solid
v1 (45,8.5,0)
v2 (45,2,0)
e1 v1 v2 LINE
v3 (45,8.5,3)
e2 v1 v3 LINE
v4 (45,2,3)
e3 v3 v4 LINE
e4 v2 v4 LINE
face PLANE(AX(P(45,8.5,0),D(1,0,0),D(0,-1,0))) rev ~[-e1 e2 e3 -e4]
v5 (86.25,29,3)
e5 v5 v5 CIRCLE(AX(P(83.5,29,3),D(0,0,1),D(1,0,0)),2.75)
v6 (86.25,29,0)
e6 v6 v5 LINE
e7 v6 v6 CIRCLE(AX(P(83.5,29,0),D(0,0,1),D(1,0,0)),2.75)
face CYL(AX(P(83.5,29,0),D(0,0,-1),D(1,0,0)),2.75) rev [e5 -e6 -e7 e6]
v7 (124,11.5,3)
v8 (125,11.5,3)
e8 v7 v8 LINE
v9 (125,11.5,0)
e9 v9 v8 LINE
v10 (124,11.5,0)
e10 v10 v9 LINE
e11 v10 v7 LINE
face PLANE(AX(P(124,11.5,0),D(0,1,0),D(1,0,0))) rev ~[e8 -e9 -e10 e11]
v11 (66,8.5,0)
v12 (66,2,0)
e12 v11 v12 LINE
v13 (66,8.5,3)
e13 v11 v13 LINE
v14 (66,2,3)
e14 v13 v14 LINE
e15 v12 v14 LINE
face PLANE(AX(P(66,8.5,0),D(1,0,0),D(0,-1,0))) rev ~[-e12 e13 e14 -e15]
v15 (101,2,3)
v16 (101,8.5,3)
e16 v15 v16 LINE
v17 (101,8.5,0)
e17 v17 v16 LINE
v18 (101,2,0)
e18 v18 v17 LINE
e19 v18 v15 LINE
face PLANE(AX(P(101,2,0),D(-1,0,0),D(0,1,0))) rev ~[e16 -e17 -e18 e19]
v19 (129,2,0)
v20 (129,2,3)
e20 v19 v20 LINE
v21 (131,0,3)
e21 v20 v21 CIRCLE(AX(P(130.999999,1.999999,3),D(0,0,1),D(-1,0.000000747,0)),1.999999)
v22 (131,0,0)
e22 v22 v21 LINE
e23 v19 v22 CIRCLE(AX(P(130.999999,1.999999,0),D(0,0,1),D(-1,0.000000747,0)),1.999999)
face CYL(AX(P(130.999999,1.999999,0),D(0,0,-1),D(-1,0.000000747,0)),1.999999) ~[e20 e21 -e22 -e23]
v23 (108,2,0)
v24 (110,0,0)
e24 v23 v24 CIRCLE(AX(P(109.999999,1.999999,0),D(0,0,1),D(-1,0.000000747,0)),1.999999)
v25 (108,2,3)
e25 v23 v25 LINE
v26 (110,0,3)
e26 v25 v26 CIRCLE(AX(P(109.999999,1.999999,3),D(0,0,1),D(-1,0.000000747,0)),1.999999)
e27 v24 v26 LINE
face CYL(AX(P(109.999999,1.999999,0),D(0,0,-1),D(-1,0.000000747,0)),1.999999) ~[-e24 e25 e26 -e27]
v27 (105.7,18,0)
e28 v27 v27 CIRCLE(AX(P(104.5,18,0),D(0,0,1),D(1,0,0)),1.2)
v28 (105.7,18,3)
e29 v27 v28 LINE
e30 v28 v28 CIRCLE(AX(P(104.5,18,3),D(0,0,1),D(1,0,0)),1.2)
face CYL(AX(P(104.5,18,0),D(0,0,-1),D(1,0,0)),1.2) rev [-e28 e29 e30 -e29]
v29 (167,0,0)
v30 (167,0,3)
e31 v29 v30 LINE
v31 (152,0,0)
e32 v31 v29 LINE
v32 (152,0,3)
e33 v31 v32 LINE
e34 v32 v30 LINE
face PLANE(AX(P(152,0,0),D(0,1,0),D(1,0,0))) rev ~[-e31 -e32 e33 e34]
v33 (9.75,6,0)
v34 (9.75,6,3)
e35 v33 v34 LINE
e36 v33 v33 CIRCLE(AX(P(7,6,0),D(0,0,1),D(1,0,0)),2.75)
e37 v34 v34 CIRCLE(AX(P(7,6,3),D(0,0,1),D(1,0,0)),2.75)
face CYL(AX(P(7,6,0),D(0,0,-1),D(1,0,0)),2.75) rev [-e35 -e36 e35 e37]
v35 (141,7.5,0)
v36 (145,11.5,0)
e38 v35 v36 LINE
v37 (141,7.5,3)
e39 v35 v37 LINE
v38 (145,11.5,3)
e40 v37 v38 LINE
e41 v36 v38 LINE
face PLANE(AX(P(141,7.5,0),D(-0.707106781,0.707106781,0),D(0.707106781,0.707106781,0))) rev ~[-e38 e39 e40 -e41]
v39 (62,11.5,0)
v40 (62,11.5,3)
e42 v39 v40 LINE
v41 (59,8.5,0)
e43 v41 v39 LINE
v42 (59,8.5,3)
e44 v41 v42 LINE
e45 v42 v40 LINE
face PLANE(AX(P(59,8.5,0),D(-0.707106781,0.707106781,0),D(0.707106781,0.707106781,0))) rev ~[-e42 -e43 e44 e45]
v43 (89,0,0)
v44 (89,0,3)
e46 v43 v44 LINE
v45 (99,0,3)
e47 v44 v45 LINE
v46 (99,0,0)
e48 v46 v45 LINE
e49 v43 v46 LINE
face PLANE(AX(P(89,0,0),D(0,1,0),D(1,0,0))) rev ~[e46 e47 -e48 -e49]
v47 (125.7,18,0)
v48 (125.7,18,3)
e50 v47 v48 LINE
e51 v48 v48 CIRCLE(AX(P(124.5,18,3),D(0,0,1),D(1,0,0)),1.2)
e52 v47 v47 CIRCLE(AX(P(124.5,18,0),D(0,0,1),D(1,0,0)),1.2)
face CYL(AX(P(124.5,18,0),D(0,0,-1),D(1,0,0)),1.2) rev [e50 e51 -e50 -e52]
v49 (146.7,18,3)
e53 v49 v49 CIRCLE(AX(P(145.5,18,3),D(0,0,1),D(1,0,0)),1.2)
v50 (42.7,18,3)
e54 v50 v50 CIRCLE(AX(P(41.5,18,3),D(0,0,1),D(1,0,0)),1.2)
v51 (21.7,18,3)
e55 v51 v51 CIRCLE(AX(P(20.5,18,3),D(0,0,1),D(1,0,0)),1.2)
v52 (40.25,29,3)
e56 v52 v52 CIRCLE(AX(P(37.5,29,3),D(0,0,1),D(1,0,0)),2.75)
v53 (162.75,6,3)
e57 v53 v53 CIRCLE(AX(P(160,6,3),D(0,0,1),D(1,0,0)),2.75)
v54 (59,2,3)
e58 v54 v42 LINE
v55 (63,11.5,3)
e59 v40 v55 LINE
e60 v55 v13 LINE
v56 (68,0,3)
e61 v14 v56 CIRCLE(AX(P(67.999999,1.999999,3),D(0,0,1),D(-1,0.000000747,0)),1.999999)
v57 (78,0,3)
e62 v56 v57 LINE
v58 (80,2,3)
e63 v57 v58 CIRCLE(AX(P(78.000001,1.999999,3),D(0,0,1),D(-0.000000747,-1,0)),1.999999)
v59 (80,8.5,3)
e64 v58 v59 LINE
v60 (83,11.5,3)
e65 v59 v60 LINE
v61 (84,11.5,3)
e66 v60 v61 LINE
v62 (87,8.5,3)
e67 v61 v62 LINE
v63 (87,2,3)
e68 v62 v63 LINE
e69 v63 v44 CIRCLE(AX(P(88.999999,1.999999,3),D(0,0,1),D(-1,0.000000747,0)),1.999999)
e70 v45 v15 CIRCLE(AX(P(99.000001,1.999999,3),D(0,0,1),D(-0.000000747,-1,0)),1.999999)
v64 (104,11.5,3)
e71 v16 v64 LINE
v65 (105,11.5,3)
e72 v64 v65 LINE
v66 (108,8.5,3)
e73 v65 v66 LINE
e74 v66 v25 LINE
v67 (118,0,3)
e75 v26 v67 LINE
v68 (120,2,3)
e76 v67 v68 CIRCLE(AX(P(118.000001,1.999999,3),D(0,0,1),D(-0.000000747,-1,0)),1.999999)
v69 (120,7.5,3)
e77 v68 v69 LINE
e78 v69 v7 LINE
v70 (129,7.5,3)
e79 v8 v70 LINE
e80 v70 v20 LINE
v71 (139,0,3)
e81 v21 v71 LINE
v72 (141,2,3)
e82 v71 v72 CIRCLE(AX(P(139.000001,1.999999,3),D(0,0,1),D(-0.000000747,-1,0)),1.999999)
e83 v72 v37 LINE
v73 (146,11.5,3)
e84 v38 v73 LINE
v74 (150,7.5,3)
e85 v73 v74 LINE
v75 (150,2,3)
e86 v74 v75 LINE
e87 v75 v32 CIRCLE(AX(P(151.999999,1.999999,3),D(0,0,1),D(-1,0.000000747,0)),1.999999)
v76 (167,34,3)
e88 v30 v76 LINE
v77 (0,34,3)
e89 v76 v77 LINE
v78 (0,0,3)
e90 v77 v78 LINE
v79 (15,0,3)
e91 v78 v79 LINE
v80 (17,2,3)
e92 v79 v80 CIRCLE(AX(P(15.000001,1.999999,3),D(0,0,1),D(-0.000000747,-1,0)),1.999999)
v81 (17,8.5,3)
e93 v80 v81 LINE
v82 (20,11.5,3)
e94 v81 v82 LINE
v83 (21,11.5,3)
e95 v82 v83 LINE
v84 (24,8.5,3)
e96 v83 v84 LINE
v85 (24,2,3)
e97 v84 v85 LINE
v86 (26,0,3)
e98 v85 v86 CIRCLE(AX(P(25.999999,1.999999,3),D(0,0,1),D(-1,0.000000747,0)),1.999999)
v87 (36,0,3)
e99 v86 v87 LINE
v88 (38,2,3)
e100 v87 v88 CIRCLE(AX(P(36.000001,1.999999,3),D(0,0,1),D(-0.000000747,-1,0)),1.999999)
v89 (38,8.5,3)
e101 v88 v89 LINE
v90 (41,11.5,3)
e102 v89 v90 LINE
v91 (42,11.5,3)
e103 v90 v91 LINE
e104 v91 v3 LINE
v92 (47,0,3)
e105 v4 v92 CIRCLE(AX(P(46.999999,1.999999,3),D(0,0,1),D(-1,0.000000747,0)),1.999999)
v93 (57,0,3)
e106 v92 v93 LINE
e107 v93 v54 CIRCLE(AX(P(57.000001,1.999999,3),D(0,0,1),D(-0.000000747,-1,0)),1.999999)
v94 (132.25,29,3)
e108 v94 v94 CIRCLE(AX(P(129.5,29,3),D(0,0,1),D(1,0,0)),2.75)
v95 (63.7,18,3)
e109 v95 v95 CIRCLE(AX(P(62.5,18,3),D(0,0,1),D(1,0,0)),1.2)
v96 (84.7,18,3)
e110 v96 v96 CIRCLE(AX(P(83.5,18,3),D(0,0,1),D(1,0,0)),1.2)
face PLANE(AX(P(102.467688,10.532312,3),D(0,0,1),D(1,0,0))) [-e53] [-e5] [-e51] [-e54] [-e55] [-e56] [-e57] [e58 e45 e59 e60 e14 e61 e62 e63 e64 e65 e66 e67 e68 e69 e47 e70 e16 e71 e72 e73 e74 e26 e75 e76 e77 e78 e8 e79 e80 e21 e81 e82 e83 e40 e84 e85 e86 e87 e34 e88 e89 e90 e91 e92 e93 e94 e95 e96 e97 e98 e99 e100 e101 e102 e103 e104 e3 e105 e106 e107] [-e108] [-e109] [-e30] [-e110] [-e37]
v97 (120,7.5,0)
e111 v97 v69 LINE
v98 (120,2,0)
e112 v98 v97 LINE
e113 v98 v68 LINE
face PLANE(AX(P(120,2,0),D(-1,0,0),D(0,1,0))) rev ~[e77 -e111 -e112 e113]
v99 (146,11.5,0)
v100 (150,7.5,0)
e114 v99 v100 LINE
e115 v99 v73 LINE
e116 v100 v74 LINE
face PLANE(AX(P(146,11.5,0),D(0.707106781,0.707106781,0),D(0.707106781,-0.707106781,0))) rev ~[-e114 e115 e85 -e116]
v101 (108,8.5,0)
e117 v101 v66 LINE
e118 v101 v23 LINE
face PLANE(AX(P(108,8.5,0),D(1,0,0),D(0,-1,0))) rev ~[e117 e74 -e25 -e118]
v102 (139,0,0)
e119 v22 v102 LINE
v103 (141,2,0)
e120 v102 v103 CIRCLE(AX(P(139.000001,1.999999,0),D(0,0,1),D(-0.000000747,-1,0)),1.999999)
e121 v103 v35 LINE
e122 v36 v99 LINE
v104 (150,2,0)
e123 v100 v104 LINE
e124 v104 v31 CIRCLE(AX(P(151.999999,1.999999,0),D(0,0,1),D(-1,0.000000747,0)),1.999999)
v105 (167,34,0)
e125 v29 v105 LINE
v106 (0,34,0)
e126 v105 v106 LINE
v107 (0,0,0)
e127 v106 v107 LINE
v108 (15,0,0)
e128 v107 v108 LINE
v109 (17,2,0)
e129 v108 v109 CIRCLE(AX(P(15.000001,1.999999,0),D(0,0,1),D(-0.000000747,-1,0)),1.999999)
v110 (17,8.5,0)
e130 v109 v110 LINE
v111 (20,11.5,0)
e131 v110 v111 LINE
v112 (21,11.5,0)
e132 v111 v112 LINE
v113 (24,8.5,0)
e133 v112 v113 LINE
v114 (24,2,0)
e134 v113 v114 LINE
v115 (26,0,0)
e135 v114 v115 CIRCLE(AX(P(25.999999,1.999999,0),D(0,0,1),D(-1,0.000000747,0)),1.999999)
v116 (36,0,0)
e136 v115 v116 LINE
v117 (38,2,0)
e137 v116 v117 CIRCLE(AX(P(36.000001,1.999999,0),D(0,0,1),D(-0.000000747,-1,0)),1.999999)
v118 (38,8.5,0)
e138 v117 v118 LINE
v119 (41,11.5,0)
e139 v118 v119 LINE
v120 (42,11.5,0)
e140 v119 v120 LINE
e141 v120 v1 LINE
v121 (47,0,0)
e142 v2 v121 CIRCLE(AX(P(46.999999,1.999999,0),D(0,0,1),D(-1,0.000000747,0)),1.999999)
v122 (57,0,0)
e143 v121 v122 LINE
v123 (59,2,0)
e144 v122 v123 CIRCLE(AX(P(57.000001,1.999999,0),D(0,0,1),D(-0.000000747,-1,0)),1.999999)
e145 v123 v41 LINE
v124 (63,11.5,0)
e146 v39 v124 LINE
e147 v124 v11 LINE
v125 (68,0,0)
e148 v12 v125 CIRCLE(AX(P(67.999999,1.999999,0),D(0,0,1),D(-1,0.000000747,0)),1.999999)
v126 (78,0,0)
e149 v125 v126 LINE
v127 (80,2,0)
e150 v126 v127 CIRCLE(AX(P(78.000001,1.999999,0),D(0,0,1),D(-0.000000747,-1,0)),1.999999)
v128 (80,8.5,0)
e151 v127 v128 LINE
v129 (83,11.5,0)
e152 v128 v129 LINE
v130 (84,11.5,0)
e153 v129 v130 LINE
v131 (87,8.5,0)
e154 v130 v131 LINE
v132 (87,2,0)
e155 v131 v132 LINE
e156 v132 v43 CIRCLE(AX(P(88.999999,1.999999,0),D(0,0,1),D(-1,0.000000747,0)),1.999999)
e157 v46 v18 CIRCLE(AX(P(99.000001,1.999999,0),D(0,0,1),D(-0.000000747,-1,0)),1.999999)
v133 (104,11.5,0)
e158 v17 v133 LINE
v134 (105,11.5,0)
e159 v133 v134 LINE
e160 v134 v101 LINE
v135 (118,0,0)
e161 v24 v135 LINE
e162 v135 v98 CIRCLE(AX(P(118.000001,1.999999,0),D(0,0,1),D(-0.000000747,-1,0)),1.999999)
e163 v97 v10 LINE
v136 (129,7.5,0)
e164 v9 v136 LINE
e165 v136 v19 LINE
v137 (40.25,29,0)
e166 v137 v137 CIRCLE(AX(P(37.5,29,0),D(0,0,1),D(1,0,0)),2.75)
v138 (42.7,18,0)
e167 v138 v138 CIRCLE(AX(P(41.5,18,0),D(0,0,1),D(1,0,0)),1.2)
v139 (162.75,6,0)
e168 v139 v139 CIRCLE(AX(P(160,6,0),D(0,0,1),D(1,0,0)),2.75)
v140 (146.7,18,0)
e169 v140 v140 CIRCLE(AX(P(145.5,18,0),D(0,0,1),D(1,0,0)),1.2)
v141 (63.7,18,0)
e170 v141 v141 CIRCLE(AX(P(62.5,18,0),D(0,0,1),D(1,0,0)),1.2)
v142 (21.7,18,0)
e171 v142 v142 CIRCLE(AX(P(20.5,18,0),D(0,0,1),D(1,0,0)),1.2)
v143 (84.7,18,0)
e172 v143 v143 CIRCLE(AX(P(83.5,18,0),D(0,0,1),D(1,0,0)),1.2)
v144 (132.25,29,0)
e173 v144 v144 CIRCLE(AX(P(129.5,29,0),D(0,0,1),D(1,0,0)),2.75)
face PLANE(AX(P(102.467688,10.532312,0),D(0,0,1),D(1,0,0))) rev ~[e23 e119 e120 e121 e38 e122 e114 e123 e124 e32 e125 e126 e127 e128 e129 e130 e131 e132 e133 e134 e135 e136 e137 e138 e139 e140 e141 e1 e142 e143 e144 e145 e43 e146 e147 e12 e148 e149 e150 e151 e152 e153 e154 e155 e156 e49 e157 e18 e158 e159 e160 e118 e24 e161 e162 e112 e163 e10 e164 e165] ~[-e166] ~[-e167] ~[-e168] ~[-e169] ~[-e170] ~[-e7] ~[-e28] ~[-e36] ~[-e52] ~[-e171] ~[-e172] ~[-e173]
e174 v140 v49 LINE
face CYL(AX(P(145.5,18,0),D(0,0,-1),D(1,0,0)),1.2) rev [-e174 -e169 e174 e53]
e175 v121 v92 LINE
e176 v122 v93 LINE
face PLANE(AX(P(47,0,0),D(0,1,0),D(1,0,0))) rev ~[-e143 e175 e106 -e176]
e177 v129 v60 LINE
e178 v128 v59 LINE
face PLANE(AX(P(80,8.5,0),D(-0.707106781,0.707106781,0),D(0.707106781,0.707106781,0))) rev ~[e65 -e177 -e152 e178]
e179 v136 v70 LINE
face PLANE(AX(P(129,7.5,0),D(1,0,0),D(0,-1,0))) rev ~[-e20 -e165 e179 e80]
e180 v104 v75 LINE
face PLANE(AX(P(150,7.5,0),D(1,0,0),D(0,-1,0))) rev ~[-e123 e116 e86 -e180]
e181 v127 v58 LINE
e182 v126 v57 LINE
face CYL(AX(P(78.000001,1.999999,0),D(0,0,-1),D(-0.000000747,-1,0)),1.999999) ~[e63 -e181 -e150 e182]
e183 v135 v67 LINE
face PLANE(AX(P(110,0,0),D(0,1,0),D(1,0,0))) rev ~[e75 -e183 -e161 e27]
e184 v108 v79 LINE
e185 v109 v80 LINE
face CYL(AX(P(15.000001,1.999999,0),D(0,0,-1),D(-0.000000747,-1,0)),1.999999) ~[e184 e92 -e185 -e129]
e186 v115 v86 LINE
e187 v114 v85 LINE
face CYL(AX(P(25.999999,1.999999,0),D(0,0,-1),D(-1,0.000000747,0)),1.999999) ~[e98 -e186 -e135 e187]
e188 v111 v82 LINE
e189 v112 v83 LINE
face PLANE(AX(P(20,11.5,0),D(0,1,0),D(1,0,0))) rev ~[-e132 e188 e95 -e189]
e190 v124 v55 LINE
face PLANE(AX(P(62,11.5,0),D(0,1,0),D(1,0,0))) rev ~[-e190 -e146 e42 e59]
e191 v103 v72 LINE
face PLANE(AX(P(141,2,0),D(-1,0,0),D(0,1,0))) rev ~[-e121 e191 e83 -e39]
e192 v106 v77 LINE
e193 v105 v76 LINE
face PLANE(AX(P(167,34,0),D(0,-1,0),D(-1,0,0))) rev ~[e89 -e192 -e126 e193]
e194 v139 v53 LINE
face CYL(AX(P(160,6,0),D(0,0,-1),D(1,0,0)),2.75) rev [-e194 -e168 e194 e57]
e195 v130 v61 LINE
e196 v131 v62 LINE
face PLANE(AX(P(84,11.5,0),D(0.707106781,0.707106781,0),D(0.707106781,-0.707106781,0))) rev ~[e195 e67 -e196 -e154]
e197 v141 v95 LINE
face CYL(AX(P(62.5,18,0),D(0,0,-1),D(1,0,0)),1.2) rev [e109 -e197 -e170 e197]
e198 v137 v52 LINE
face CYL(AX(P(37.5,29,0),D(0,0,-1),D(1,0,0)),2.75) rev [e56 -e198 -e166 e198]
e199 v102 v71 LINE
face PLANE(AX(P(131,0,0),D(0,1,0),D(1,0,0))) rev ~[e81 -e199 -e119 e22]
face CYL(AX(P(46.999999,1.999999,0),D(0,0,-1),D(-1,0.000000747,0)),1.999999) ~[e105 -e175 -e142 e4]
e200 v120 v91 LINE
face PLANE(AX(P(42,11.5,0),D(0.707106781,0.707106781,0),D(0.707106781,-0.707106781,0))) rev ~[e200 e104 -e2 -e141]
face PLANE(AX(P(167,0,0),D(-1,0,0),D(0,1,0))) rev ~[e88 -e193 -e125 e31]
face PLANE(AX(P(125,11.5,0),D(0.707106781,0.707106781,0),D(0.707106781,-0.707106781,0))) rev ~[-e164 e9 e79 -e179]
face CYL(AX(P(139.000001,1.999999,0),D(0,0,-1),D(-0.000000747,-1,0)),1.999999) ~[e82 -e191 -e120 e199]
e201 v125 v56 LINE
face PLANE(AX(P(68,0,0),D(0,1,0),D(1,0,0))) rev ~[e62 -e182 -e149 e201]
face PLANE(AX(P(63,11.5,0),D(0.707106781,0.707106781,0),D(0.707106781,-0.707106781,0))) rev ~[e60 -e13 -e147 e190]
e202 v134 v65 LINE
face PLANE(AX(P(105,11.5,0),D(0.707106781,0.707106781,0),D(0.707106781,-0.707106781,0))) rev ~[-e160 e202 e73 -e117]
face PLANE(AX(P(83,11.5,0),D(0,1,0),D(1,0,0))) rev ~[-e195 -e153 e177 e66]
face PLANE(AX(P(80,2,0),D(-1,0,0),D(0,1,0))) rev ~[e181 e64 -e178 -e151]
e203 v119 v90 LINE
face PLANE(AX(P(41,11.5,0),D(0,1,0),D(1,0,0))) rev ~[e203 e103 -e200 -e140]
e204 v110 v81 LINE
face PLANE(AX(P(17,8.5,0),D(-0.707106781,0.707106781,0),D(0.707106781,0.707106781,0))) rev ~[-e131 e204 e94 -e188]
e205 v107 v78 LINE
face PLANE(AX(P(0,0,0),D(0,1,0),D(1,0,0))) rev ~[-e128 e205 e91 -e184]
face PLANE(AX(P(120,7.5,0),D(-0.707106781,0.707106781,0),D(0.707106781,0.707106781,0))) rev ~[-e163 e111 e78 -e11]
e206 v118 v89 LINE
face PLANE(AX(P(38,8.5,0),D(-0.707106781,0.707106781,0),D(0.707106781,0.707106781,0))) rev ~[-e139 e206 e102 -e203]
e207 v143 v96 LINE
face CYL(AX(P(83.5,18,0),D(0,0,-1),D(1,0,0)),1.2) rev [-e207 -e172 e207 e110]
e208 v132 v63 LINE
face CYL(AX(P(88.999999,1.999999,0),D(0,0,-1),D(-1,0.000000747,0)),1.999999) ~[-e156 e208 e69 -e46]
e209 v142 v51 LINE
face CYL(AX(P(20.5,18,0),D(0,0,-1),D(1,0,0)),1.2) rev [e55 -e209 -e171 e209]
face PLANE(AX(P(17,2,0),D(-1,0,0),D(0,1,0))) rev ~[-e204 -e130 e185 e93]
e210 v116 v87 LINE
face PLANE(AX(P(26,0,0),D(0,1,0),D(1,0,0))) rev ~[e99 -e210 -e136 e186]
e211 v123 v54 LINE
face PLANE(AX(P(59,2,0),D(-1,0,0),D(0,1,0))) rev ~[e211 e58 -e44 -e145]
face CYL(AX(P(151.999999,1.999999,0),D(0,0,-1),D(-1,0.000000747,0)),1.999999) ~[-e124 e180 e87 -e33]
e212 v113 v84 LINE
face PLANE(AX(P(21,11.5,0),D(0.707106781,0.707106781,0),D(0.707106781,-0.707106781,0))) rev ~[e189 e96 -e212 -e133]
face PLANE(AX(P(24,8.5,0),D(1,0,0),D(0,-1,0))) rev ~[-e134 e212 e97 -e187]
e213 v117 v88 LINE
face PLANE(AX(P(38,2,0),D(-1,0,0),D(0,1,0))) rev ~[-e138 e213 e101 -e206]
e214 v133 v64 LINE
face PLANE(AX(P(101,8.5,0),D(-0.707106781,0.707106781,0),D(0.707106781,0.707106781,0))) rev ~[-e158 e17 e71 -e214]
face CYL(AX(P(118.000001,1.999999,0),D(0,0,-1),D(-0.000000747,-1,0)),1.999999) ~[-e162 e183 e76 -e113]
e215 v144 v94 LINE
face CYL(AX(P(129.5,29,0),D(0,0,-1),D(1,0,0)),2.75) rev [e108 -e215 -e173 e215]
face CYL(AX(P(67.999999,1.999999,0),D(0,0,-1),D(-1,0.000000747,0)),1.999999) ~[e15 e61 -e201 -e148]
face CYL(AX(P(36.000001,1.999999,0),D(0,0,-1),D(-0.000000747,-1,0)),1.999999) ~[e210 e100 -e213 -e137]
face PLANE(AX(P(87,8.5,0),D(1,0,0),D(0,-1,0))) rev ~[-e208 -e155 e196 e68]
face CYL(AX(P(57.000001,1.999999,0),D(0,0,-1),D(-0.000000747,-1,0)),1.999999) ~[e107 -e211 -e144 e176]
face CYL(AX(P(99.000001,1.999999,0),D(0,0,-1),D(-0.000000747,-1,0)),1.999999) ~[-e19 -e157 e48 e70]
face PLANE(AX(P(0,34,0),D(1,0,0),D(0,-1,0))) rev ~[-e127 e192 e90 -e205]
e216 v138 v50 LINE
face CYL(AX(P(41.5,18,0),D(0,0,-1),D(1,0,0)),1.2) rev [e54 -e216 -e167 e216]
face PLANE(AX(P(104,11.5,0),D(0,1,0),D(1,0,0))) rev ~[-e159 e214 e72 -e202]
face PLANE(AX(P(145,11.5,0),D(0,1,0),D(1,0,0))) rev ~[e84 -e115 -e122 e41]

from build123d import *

# Parameters (mm, degrees)
F0_R     = 2.75
F0_R_2   = 1.2
F1_DEPTH = 3


with BuildPart() as f1:
    # F0 (on Top) → F1 (new body)
    with BuildSketch(Plane.XY):
        with BuildLine():
            Line((101, 8.5), (104, 11.5))
            Line((104, 11.5), (104.5, 12))
            Line((104.5, 12), (104, 12))
            ThreePointArc((104, 12), (101.87868, 11.12132), (101, 9))
            Line((101, 9), (101, 8.5))
        make_face()
        with BuildLine():
            Line((105, 11.5), (108, 8.5))
            Line((108, 8.5), (108, 9))
            ThreePointArc((108, 9), (107.12132, 11.12132), (105, 12))
            Line((105, 12), (104.5, 12))
            Line((104.5, 12), (105, 11.5))
        make_face()
        Polygon((104, 11.5), (105, 11.5), (104.5, 12), align=None)
        with BuildLine():
            Line((0, 34), (0, 0))
            Line((0, 0), (15, 0))
            ThreePointArc((15, 0), (16.414214, 0.585786), (17, 2))
            Line((17, 2), (17, 8.5))
            Line((17, 8.5), (17, 9))
            ThreePointArc((17, 9), (17.87868, 11.12132), (20, 12))
            Line((20, 12), (20.5, 12))
            Line((20.5, 12), (21, 12))
            ThreePointArc((21, 12), (23.12132, 11.12132), (24, 9))
            Line((24, 9), (24, 8.5))
            Line((24, 8.5), (24, 2))
            ThreePointArc((24, 2), (24.585786, 0.585786), (26, 0))
            Line((26, 0), (36, 0))
            ThreePointArc((36, 0), (37.414214, 0.585786), (38, 2))
            Line((38, 2), (38, 8.5))
            Line((38, 8.5), (38, 9))
            ThreePointArc((38, 9), (38.87868, 11.12132), (41, 12))
            Line((41, 12), (41.5, 12))
            Line((41.5, 12), (42, 12))
            ThreePointArc((42, 12), (44.12132, 11.12132), (45, 9))
            Line((45, 9), (45, 8.5))
            Line((45, 8.5), (45, 2))
            ThreePointArc((45, 2), (45.585786, 0.585786), (47, 0))
            Line((47, 0), (57, 0))
            ThreePointArc((57, 0), (58.414214, 0.585786), (59, 2))
            Line((59, 2), (59, 8.5))
            Line((59, 8.5), (59, 9))
            ThreePointArc((59, 9), (59.87868, 11.12132), (62, 12))
            Line((62, 12), (62.5, 12))
            Line((62.5, 12), (63, 12))
            ThreePointArc((63, 12), (65.12132, 11.12132), (66, 9))
            Line((66, 9), (66, 8.5))
            Line((66, 8.5), (66, 2))
            ThreePointArc((66, 2), (66.585786, 0.585786), (68, 0))
            Line((68, 0), (78, 0))
            ThreePointArc((78, 0), (79.414214, 0.585786), (80, 2))
            Line((80, 2), (80, 8.5))
            Line((80, 8.5), (80, 9))
            ThreePointArc((80, 9), (80.87868, 11.12132), (83, 12))
            Line((83, 12), (83.5, 12))
            Line((83.5, 12), (84, 12))
            ThreePointArc((84, 12), (86.12132, 11.12132), (87, 9))
            Line((87, 9), (87, 8.5))
            Line((87, 8.5), (87, 2))
            ThreePointArc((87, 2), (87.585786, 0.585786), (89, 0))
            Line((89, 0), (99, 0))
            ThreePointArc((99, 0), (100.414214, 0.585786), (101, 2))
            Line((101, 2), (101, 8.5))
            Line((101, 8.5), (101, 9))
            ThreePointArc((101, 9), (101.87868, 11.12132), (104, 12))
            Line((104, 12), (104.5, 12))
            Line((104.5, 12), (105, 12))
            ThreePointArc((105, 12), (107.12132, 11.12132), (108, 9))
            Line((108, 9), (108, 8.5))
            Line((108, 8.5), (108, 2))
            ThreePointArc((108, 2), (108.585786, 0.585786), (110, 0))
            Line((110, 0), (118, 0))
            ThreePointArc((118, 0), (119.414214, 0.585786), (120, 2))
            Line((120, 2), (120, 7.5))
            Line((120, 7.5), (120, 8))
            ThreePointArc((120, 8), (121.171573, 10.828427), (124, 12))
            Line((124, 12), (124.5, 12))
            Line((124.5, 12), (125, 12))
            ThreePointArc((125, 12), (127.828427, 10.828427), (129, 8))
            Line((129, 8), (129, 7.5))
            Line((129, 7.5), (129, 2))
            ThreePointArc((129, 2), (129.585786, 0.585786), (131, 0))
            Line((131, 0), (139, 0))
            ThreePointArc((139, 0), (140.414214, 0.585786), (141, 2))
            Line((141, 2), (141, 7.5))
            Line((141, 7.5), (141, 8))
            ThreePointArc((141, 8), (142.171573, 10.828427), (145, 12))
            Line((145, 12), (145.5, 12))
            Line((145.5, 12), (146, 12))
            ThreePointArc((146, 12), (148.828427, 10.828427), (150, 8))
            Line((150, 8), (150, 7.5))
            Line((150, 7.5), (150, 2))
            ThreePointArc((150, 2), (150.585786, 0.585786), (152, 0))
            Line((152, 0), (167, 0))
            Line((167, 0), (167, 34))
            Line((167, 34), (0, 34))
        make_face()
        with Locations((7, 6)):
            Circle(F0_R, mode=Mode.SUBTRACT)
        with Locations((160, 6)):
            Circle(F0_R, mode=Mode.SUBTRACT)
        with Locations((20.5, 18)):
            Circle(F0_R_2, mode=Mode.SUBTRACT)
        with Locations((41.5, 18)):
            Circle(F0_R_2, mode=Mode.SUBTRACT)
        with Locations((62.5, 18)):
            Circle(F0_R_2, mode=Mode.SUBTRACT)
        with Locations((37.5, 29)):
            Circle(F0_R, mode=Mode.SUBTRACT)
        with Locations((83.5, 18)):
            Circle(F0_R_2, mode=Mode.SUBTRACT)
        with Locations((104.5, 18)):
            Circle(F0_R_2, mode=Mode.SUBTRACT)
        with Locations((124.5, 18)):
            Circle(F0_R_2, mode=Mode.SUBTRACT)
        with Locations((145.5, 18)):
            Circle(F0_R_2, mode=Mode.SUBTRACT)
        with Locations((83.5, 29)):
            Circle(F0_R, mode=Mode.SUBTRACT)
        with Locations((129.5, 29)):
            Circle(F0_R, mode=Mode.SUBTRACT)
        with BuildLine():
            Line((146, 11.5), (150, 7.5))
            Line((150, 7.5), (150, 8))
            ThreePointArc((150, 8), (148.828427, 10.828427), (146, 12))
            Line((146, 12), (145.5, 12))
            Line((145.5, 12), (146, 11.5))
        make_face()
        Polygon((145, 11.5), (146, 11.5), (145.5, 12), align=None)
        with BuildLine():
            Line((145, 11.5), (145.5, 12))
            Line((145.5, 12), (145, 12))
            ThreePointArc((145, 12), (142.171573, 10.828427), (141, 8))
            Line((141, 8), (141, 7.5))
            Line((141, 7.5), (145, 11.5))
        make_face()
        with BuildLine():
            Line((125, 11.5), (129, 7.5))
            Line((129, 7.5), (129, 8))
            ThreePointArc((129, 8), (127.828427, 10.828427), (125, 12))
            Line((125, 12), (124.5, 12))
            Line((124.5, 12), (125, 11.5))
        make_face()
        Polygon((124, 11.5), (125, 11.5), (124.5, 12), align=None)
        with BuildLine():
            Line((124, 11.5), (124.5, 12))
            Line((124.5, 12), (124, 12))
            ThreePointArc((124, 12), (121.171573, 10.828427), (120, 8))
            Line((120, 8), (120, 7.5))
            Line((120, 7.5), (124, 11.5))
        make_face()
        with BuildLine():
            Line((84, 12), (83.5, 12))
            Line((83.5, 12), (84, 11.5))
            Line((84, 11.5), (87, 8.5))
            Line((87, 8.5), (87, 9))
            ThreePointArc((87, 9), (86.12132, 11.12132), (84, 12))
        make_face()
        Polygon((83.5, 12), (83, 11.5), (84, 11.5), align=None)
        with BuildLine():
            Line((80, 9), (80, 8.5))
            Line((80, 8.5), (83, 11.5))
            Line((83, 11.5), (83.5, 12))
            Line((83.5, 12), (83, 12))
            ThreePointArc((83, 12), (80.87868, 11.12132), (80, 9))
        make_face()
        with BuildLine():
            Line((63, 12), (62.5, 12))
            Line((62.5, 12), (63, 11.5))
            Line((63, 11.5), (66, 8.5))
            Line((66, 8.5), (66, 9))
            ThreePointArc((66, 9), (65.12132, 11.12132), (63, 12))
        make_face()
        Polygon((62.5, 12), (62, 11.5), (63, 11.5), align=None)
        with BuildLine():
            Line((59, 9), (59, 8.5))
            Line((59, 8.5), (62, 11.5))
            Line((62, 11.5), (62.5, 12))
            Line((62.5, 12), (62, 12))
            ThreePointArc((62, 12), (59.87868, 11.12132), (59, 9))
        make_face()
        with BuildLine():
            Line((42, 12), (41.5, 12))
            Line((41.5, 12), (42, 11.5))
            Line((42, 11.5), (45, 8.5))
            Line((45, 8.5), (45, 9))
            ThreePointArc((45, 9), (44.12132, 11.12132), (42, 12))
        make_face()
        Polygon((41.5, 12), (41, 11.5), (42, 11.5), align=None)
        with BuildLine():
            Line((38, 9), (38, 8.5))
            Line((38, 8.5), (41, 11.5))
            Line((41, 11.5), (41.5, 12))
            Line((41.5, 12), (41, 12))
            ThreePointArc((41, 12), (38.87868, 11.12132), (38, 9))
        make_face()
        with BuildLine():
            Line((21, 12), (20.5, 12))
            Line((20.5, 12), (21, 11.5))
            Line((21, 11.5), (24, 8.5))
            Line((24, 8.5), (24, 9))
            ThreePointArc((24, 9), (23.12132, 11.12132), (21, 12))
        make_face()
        Polygon((20.5, 12), (20, 11.5), (21, 11.5), align=None)
        with BuildLine():
            Line((17, 9), (17, 8.5))
            Line((17, 8.5), (20, 11.5))
            Line((20, 11.5), (20.5, 12))
            Line((20.5, 12), (20, 12))
            ThreePointArc((20, 12), (17.87868, 11.12132), (17, 9))
        make_face()
    extrude(amount=F1_DEPTH)


solid = f1.part
